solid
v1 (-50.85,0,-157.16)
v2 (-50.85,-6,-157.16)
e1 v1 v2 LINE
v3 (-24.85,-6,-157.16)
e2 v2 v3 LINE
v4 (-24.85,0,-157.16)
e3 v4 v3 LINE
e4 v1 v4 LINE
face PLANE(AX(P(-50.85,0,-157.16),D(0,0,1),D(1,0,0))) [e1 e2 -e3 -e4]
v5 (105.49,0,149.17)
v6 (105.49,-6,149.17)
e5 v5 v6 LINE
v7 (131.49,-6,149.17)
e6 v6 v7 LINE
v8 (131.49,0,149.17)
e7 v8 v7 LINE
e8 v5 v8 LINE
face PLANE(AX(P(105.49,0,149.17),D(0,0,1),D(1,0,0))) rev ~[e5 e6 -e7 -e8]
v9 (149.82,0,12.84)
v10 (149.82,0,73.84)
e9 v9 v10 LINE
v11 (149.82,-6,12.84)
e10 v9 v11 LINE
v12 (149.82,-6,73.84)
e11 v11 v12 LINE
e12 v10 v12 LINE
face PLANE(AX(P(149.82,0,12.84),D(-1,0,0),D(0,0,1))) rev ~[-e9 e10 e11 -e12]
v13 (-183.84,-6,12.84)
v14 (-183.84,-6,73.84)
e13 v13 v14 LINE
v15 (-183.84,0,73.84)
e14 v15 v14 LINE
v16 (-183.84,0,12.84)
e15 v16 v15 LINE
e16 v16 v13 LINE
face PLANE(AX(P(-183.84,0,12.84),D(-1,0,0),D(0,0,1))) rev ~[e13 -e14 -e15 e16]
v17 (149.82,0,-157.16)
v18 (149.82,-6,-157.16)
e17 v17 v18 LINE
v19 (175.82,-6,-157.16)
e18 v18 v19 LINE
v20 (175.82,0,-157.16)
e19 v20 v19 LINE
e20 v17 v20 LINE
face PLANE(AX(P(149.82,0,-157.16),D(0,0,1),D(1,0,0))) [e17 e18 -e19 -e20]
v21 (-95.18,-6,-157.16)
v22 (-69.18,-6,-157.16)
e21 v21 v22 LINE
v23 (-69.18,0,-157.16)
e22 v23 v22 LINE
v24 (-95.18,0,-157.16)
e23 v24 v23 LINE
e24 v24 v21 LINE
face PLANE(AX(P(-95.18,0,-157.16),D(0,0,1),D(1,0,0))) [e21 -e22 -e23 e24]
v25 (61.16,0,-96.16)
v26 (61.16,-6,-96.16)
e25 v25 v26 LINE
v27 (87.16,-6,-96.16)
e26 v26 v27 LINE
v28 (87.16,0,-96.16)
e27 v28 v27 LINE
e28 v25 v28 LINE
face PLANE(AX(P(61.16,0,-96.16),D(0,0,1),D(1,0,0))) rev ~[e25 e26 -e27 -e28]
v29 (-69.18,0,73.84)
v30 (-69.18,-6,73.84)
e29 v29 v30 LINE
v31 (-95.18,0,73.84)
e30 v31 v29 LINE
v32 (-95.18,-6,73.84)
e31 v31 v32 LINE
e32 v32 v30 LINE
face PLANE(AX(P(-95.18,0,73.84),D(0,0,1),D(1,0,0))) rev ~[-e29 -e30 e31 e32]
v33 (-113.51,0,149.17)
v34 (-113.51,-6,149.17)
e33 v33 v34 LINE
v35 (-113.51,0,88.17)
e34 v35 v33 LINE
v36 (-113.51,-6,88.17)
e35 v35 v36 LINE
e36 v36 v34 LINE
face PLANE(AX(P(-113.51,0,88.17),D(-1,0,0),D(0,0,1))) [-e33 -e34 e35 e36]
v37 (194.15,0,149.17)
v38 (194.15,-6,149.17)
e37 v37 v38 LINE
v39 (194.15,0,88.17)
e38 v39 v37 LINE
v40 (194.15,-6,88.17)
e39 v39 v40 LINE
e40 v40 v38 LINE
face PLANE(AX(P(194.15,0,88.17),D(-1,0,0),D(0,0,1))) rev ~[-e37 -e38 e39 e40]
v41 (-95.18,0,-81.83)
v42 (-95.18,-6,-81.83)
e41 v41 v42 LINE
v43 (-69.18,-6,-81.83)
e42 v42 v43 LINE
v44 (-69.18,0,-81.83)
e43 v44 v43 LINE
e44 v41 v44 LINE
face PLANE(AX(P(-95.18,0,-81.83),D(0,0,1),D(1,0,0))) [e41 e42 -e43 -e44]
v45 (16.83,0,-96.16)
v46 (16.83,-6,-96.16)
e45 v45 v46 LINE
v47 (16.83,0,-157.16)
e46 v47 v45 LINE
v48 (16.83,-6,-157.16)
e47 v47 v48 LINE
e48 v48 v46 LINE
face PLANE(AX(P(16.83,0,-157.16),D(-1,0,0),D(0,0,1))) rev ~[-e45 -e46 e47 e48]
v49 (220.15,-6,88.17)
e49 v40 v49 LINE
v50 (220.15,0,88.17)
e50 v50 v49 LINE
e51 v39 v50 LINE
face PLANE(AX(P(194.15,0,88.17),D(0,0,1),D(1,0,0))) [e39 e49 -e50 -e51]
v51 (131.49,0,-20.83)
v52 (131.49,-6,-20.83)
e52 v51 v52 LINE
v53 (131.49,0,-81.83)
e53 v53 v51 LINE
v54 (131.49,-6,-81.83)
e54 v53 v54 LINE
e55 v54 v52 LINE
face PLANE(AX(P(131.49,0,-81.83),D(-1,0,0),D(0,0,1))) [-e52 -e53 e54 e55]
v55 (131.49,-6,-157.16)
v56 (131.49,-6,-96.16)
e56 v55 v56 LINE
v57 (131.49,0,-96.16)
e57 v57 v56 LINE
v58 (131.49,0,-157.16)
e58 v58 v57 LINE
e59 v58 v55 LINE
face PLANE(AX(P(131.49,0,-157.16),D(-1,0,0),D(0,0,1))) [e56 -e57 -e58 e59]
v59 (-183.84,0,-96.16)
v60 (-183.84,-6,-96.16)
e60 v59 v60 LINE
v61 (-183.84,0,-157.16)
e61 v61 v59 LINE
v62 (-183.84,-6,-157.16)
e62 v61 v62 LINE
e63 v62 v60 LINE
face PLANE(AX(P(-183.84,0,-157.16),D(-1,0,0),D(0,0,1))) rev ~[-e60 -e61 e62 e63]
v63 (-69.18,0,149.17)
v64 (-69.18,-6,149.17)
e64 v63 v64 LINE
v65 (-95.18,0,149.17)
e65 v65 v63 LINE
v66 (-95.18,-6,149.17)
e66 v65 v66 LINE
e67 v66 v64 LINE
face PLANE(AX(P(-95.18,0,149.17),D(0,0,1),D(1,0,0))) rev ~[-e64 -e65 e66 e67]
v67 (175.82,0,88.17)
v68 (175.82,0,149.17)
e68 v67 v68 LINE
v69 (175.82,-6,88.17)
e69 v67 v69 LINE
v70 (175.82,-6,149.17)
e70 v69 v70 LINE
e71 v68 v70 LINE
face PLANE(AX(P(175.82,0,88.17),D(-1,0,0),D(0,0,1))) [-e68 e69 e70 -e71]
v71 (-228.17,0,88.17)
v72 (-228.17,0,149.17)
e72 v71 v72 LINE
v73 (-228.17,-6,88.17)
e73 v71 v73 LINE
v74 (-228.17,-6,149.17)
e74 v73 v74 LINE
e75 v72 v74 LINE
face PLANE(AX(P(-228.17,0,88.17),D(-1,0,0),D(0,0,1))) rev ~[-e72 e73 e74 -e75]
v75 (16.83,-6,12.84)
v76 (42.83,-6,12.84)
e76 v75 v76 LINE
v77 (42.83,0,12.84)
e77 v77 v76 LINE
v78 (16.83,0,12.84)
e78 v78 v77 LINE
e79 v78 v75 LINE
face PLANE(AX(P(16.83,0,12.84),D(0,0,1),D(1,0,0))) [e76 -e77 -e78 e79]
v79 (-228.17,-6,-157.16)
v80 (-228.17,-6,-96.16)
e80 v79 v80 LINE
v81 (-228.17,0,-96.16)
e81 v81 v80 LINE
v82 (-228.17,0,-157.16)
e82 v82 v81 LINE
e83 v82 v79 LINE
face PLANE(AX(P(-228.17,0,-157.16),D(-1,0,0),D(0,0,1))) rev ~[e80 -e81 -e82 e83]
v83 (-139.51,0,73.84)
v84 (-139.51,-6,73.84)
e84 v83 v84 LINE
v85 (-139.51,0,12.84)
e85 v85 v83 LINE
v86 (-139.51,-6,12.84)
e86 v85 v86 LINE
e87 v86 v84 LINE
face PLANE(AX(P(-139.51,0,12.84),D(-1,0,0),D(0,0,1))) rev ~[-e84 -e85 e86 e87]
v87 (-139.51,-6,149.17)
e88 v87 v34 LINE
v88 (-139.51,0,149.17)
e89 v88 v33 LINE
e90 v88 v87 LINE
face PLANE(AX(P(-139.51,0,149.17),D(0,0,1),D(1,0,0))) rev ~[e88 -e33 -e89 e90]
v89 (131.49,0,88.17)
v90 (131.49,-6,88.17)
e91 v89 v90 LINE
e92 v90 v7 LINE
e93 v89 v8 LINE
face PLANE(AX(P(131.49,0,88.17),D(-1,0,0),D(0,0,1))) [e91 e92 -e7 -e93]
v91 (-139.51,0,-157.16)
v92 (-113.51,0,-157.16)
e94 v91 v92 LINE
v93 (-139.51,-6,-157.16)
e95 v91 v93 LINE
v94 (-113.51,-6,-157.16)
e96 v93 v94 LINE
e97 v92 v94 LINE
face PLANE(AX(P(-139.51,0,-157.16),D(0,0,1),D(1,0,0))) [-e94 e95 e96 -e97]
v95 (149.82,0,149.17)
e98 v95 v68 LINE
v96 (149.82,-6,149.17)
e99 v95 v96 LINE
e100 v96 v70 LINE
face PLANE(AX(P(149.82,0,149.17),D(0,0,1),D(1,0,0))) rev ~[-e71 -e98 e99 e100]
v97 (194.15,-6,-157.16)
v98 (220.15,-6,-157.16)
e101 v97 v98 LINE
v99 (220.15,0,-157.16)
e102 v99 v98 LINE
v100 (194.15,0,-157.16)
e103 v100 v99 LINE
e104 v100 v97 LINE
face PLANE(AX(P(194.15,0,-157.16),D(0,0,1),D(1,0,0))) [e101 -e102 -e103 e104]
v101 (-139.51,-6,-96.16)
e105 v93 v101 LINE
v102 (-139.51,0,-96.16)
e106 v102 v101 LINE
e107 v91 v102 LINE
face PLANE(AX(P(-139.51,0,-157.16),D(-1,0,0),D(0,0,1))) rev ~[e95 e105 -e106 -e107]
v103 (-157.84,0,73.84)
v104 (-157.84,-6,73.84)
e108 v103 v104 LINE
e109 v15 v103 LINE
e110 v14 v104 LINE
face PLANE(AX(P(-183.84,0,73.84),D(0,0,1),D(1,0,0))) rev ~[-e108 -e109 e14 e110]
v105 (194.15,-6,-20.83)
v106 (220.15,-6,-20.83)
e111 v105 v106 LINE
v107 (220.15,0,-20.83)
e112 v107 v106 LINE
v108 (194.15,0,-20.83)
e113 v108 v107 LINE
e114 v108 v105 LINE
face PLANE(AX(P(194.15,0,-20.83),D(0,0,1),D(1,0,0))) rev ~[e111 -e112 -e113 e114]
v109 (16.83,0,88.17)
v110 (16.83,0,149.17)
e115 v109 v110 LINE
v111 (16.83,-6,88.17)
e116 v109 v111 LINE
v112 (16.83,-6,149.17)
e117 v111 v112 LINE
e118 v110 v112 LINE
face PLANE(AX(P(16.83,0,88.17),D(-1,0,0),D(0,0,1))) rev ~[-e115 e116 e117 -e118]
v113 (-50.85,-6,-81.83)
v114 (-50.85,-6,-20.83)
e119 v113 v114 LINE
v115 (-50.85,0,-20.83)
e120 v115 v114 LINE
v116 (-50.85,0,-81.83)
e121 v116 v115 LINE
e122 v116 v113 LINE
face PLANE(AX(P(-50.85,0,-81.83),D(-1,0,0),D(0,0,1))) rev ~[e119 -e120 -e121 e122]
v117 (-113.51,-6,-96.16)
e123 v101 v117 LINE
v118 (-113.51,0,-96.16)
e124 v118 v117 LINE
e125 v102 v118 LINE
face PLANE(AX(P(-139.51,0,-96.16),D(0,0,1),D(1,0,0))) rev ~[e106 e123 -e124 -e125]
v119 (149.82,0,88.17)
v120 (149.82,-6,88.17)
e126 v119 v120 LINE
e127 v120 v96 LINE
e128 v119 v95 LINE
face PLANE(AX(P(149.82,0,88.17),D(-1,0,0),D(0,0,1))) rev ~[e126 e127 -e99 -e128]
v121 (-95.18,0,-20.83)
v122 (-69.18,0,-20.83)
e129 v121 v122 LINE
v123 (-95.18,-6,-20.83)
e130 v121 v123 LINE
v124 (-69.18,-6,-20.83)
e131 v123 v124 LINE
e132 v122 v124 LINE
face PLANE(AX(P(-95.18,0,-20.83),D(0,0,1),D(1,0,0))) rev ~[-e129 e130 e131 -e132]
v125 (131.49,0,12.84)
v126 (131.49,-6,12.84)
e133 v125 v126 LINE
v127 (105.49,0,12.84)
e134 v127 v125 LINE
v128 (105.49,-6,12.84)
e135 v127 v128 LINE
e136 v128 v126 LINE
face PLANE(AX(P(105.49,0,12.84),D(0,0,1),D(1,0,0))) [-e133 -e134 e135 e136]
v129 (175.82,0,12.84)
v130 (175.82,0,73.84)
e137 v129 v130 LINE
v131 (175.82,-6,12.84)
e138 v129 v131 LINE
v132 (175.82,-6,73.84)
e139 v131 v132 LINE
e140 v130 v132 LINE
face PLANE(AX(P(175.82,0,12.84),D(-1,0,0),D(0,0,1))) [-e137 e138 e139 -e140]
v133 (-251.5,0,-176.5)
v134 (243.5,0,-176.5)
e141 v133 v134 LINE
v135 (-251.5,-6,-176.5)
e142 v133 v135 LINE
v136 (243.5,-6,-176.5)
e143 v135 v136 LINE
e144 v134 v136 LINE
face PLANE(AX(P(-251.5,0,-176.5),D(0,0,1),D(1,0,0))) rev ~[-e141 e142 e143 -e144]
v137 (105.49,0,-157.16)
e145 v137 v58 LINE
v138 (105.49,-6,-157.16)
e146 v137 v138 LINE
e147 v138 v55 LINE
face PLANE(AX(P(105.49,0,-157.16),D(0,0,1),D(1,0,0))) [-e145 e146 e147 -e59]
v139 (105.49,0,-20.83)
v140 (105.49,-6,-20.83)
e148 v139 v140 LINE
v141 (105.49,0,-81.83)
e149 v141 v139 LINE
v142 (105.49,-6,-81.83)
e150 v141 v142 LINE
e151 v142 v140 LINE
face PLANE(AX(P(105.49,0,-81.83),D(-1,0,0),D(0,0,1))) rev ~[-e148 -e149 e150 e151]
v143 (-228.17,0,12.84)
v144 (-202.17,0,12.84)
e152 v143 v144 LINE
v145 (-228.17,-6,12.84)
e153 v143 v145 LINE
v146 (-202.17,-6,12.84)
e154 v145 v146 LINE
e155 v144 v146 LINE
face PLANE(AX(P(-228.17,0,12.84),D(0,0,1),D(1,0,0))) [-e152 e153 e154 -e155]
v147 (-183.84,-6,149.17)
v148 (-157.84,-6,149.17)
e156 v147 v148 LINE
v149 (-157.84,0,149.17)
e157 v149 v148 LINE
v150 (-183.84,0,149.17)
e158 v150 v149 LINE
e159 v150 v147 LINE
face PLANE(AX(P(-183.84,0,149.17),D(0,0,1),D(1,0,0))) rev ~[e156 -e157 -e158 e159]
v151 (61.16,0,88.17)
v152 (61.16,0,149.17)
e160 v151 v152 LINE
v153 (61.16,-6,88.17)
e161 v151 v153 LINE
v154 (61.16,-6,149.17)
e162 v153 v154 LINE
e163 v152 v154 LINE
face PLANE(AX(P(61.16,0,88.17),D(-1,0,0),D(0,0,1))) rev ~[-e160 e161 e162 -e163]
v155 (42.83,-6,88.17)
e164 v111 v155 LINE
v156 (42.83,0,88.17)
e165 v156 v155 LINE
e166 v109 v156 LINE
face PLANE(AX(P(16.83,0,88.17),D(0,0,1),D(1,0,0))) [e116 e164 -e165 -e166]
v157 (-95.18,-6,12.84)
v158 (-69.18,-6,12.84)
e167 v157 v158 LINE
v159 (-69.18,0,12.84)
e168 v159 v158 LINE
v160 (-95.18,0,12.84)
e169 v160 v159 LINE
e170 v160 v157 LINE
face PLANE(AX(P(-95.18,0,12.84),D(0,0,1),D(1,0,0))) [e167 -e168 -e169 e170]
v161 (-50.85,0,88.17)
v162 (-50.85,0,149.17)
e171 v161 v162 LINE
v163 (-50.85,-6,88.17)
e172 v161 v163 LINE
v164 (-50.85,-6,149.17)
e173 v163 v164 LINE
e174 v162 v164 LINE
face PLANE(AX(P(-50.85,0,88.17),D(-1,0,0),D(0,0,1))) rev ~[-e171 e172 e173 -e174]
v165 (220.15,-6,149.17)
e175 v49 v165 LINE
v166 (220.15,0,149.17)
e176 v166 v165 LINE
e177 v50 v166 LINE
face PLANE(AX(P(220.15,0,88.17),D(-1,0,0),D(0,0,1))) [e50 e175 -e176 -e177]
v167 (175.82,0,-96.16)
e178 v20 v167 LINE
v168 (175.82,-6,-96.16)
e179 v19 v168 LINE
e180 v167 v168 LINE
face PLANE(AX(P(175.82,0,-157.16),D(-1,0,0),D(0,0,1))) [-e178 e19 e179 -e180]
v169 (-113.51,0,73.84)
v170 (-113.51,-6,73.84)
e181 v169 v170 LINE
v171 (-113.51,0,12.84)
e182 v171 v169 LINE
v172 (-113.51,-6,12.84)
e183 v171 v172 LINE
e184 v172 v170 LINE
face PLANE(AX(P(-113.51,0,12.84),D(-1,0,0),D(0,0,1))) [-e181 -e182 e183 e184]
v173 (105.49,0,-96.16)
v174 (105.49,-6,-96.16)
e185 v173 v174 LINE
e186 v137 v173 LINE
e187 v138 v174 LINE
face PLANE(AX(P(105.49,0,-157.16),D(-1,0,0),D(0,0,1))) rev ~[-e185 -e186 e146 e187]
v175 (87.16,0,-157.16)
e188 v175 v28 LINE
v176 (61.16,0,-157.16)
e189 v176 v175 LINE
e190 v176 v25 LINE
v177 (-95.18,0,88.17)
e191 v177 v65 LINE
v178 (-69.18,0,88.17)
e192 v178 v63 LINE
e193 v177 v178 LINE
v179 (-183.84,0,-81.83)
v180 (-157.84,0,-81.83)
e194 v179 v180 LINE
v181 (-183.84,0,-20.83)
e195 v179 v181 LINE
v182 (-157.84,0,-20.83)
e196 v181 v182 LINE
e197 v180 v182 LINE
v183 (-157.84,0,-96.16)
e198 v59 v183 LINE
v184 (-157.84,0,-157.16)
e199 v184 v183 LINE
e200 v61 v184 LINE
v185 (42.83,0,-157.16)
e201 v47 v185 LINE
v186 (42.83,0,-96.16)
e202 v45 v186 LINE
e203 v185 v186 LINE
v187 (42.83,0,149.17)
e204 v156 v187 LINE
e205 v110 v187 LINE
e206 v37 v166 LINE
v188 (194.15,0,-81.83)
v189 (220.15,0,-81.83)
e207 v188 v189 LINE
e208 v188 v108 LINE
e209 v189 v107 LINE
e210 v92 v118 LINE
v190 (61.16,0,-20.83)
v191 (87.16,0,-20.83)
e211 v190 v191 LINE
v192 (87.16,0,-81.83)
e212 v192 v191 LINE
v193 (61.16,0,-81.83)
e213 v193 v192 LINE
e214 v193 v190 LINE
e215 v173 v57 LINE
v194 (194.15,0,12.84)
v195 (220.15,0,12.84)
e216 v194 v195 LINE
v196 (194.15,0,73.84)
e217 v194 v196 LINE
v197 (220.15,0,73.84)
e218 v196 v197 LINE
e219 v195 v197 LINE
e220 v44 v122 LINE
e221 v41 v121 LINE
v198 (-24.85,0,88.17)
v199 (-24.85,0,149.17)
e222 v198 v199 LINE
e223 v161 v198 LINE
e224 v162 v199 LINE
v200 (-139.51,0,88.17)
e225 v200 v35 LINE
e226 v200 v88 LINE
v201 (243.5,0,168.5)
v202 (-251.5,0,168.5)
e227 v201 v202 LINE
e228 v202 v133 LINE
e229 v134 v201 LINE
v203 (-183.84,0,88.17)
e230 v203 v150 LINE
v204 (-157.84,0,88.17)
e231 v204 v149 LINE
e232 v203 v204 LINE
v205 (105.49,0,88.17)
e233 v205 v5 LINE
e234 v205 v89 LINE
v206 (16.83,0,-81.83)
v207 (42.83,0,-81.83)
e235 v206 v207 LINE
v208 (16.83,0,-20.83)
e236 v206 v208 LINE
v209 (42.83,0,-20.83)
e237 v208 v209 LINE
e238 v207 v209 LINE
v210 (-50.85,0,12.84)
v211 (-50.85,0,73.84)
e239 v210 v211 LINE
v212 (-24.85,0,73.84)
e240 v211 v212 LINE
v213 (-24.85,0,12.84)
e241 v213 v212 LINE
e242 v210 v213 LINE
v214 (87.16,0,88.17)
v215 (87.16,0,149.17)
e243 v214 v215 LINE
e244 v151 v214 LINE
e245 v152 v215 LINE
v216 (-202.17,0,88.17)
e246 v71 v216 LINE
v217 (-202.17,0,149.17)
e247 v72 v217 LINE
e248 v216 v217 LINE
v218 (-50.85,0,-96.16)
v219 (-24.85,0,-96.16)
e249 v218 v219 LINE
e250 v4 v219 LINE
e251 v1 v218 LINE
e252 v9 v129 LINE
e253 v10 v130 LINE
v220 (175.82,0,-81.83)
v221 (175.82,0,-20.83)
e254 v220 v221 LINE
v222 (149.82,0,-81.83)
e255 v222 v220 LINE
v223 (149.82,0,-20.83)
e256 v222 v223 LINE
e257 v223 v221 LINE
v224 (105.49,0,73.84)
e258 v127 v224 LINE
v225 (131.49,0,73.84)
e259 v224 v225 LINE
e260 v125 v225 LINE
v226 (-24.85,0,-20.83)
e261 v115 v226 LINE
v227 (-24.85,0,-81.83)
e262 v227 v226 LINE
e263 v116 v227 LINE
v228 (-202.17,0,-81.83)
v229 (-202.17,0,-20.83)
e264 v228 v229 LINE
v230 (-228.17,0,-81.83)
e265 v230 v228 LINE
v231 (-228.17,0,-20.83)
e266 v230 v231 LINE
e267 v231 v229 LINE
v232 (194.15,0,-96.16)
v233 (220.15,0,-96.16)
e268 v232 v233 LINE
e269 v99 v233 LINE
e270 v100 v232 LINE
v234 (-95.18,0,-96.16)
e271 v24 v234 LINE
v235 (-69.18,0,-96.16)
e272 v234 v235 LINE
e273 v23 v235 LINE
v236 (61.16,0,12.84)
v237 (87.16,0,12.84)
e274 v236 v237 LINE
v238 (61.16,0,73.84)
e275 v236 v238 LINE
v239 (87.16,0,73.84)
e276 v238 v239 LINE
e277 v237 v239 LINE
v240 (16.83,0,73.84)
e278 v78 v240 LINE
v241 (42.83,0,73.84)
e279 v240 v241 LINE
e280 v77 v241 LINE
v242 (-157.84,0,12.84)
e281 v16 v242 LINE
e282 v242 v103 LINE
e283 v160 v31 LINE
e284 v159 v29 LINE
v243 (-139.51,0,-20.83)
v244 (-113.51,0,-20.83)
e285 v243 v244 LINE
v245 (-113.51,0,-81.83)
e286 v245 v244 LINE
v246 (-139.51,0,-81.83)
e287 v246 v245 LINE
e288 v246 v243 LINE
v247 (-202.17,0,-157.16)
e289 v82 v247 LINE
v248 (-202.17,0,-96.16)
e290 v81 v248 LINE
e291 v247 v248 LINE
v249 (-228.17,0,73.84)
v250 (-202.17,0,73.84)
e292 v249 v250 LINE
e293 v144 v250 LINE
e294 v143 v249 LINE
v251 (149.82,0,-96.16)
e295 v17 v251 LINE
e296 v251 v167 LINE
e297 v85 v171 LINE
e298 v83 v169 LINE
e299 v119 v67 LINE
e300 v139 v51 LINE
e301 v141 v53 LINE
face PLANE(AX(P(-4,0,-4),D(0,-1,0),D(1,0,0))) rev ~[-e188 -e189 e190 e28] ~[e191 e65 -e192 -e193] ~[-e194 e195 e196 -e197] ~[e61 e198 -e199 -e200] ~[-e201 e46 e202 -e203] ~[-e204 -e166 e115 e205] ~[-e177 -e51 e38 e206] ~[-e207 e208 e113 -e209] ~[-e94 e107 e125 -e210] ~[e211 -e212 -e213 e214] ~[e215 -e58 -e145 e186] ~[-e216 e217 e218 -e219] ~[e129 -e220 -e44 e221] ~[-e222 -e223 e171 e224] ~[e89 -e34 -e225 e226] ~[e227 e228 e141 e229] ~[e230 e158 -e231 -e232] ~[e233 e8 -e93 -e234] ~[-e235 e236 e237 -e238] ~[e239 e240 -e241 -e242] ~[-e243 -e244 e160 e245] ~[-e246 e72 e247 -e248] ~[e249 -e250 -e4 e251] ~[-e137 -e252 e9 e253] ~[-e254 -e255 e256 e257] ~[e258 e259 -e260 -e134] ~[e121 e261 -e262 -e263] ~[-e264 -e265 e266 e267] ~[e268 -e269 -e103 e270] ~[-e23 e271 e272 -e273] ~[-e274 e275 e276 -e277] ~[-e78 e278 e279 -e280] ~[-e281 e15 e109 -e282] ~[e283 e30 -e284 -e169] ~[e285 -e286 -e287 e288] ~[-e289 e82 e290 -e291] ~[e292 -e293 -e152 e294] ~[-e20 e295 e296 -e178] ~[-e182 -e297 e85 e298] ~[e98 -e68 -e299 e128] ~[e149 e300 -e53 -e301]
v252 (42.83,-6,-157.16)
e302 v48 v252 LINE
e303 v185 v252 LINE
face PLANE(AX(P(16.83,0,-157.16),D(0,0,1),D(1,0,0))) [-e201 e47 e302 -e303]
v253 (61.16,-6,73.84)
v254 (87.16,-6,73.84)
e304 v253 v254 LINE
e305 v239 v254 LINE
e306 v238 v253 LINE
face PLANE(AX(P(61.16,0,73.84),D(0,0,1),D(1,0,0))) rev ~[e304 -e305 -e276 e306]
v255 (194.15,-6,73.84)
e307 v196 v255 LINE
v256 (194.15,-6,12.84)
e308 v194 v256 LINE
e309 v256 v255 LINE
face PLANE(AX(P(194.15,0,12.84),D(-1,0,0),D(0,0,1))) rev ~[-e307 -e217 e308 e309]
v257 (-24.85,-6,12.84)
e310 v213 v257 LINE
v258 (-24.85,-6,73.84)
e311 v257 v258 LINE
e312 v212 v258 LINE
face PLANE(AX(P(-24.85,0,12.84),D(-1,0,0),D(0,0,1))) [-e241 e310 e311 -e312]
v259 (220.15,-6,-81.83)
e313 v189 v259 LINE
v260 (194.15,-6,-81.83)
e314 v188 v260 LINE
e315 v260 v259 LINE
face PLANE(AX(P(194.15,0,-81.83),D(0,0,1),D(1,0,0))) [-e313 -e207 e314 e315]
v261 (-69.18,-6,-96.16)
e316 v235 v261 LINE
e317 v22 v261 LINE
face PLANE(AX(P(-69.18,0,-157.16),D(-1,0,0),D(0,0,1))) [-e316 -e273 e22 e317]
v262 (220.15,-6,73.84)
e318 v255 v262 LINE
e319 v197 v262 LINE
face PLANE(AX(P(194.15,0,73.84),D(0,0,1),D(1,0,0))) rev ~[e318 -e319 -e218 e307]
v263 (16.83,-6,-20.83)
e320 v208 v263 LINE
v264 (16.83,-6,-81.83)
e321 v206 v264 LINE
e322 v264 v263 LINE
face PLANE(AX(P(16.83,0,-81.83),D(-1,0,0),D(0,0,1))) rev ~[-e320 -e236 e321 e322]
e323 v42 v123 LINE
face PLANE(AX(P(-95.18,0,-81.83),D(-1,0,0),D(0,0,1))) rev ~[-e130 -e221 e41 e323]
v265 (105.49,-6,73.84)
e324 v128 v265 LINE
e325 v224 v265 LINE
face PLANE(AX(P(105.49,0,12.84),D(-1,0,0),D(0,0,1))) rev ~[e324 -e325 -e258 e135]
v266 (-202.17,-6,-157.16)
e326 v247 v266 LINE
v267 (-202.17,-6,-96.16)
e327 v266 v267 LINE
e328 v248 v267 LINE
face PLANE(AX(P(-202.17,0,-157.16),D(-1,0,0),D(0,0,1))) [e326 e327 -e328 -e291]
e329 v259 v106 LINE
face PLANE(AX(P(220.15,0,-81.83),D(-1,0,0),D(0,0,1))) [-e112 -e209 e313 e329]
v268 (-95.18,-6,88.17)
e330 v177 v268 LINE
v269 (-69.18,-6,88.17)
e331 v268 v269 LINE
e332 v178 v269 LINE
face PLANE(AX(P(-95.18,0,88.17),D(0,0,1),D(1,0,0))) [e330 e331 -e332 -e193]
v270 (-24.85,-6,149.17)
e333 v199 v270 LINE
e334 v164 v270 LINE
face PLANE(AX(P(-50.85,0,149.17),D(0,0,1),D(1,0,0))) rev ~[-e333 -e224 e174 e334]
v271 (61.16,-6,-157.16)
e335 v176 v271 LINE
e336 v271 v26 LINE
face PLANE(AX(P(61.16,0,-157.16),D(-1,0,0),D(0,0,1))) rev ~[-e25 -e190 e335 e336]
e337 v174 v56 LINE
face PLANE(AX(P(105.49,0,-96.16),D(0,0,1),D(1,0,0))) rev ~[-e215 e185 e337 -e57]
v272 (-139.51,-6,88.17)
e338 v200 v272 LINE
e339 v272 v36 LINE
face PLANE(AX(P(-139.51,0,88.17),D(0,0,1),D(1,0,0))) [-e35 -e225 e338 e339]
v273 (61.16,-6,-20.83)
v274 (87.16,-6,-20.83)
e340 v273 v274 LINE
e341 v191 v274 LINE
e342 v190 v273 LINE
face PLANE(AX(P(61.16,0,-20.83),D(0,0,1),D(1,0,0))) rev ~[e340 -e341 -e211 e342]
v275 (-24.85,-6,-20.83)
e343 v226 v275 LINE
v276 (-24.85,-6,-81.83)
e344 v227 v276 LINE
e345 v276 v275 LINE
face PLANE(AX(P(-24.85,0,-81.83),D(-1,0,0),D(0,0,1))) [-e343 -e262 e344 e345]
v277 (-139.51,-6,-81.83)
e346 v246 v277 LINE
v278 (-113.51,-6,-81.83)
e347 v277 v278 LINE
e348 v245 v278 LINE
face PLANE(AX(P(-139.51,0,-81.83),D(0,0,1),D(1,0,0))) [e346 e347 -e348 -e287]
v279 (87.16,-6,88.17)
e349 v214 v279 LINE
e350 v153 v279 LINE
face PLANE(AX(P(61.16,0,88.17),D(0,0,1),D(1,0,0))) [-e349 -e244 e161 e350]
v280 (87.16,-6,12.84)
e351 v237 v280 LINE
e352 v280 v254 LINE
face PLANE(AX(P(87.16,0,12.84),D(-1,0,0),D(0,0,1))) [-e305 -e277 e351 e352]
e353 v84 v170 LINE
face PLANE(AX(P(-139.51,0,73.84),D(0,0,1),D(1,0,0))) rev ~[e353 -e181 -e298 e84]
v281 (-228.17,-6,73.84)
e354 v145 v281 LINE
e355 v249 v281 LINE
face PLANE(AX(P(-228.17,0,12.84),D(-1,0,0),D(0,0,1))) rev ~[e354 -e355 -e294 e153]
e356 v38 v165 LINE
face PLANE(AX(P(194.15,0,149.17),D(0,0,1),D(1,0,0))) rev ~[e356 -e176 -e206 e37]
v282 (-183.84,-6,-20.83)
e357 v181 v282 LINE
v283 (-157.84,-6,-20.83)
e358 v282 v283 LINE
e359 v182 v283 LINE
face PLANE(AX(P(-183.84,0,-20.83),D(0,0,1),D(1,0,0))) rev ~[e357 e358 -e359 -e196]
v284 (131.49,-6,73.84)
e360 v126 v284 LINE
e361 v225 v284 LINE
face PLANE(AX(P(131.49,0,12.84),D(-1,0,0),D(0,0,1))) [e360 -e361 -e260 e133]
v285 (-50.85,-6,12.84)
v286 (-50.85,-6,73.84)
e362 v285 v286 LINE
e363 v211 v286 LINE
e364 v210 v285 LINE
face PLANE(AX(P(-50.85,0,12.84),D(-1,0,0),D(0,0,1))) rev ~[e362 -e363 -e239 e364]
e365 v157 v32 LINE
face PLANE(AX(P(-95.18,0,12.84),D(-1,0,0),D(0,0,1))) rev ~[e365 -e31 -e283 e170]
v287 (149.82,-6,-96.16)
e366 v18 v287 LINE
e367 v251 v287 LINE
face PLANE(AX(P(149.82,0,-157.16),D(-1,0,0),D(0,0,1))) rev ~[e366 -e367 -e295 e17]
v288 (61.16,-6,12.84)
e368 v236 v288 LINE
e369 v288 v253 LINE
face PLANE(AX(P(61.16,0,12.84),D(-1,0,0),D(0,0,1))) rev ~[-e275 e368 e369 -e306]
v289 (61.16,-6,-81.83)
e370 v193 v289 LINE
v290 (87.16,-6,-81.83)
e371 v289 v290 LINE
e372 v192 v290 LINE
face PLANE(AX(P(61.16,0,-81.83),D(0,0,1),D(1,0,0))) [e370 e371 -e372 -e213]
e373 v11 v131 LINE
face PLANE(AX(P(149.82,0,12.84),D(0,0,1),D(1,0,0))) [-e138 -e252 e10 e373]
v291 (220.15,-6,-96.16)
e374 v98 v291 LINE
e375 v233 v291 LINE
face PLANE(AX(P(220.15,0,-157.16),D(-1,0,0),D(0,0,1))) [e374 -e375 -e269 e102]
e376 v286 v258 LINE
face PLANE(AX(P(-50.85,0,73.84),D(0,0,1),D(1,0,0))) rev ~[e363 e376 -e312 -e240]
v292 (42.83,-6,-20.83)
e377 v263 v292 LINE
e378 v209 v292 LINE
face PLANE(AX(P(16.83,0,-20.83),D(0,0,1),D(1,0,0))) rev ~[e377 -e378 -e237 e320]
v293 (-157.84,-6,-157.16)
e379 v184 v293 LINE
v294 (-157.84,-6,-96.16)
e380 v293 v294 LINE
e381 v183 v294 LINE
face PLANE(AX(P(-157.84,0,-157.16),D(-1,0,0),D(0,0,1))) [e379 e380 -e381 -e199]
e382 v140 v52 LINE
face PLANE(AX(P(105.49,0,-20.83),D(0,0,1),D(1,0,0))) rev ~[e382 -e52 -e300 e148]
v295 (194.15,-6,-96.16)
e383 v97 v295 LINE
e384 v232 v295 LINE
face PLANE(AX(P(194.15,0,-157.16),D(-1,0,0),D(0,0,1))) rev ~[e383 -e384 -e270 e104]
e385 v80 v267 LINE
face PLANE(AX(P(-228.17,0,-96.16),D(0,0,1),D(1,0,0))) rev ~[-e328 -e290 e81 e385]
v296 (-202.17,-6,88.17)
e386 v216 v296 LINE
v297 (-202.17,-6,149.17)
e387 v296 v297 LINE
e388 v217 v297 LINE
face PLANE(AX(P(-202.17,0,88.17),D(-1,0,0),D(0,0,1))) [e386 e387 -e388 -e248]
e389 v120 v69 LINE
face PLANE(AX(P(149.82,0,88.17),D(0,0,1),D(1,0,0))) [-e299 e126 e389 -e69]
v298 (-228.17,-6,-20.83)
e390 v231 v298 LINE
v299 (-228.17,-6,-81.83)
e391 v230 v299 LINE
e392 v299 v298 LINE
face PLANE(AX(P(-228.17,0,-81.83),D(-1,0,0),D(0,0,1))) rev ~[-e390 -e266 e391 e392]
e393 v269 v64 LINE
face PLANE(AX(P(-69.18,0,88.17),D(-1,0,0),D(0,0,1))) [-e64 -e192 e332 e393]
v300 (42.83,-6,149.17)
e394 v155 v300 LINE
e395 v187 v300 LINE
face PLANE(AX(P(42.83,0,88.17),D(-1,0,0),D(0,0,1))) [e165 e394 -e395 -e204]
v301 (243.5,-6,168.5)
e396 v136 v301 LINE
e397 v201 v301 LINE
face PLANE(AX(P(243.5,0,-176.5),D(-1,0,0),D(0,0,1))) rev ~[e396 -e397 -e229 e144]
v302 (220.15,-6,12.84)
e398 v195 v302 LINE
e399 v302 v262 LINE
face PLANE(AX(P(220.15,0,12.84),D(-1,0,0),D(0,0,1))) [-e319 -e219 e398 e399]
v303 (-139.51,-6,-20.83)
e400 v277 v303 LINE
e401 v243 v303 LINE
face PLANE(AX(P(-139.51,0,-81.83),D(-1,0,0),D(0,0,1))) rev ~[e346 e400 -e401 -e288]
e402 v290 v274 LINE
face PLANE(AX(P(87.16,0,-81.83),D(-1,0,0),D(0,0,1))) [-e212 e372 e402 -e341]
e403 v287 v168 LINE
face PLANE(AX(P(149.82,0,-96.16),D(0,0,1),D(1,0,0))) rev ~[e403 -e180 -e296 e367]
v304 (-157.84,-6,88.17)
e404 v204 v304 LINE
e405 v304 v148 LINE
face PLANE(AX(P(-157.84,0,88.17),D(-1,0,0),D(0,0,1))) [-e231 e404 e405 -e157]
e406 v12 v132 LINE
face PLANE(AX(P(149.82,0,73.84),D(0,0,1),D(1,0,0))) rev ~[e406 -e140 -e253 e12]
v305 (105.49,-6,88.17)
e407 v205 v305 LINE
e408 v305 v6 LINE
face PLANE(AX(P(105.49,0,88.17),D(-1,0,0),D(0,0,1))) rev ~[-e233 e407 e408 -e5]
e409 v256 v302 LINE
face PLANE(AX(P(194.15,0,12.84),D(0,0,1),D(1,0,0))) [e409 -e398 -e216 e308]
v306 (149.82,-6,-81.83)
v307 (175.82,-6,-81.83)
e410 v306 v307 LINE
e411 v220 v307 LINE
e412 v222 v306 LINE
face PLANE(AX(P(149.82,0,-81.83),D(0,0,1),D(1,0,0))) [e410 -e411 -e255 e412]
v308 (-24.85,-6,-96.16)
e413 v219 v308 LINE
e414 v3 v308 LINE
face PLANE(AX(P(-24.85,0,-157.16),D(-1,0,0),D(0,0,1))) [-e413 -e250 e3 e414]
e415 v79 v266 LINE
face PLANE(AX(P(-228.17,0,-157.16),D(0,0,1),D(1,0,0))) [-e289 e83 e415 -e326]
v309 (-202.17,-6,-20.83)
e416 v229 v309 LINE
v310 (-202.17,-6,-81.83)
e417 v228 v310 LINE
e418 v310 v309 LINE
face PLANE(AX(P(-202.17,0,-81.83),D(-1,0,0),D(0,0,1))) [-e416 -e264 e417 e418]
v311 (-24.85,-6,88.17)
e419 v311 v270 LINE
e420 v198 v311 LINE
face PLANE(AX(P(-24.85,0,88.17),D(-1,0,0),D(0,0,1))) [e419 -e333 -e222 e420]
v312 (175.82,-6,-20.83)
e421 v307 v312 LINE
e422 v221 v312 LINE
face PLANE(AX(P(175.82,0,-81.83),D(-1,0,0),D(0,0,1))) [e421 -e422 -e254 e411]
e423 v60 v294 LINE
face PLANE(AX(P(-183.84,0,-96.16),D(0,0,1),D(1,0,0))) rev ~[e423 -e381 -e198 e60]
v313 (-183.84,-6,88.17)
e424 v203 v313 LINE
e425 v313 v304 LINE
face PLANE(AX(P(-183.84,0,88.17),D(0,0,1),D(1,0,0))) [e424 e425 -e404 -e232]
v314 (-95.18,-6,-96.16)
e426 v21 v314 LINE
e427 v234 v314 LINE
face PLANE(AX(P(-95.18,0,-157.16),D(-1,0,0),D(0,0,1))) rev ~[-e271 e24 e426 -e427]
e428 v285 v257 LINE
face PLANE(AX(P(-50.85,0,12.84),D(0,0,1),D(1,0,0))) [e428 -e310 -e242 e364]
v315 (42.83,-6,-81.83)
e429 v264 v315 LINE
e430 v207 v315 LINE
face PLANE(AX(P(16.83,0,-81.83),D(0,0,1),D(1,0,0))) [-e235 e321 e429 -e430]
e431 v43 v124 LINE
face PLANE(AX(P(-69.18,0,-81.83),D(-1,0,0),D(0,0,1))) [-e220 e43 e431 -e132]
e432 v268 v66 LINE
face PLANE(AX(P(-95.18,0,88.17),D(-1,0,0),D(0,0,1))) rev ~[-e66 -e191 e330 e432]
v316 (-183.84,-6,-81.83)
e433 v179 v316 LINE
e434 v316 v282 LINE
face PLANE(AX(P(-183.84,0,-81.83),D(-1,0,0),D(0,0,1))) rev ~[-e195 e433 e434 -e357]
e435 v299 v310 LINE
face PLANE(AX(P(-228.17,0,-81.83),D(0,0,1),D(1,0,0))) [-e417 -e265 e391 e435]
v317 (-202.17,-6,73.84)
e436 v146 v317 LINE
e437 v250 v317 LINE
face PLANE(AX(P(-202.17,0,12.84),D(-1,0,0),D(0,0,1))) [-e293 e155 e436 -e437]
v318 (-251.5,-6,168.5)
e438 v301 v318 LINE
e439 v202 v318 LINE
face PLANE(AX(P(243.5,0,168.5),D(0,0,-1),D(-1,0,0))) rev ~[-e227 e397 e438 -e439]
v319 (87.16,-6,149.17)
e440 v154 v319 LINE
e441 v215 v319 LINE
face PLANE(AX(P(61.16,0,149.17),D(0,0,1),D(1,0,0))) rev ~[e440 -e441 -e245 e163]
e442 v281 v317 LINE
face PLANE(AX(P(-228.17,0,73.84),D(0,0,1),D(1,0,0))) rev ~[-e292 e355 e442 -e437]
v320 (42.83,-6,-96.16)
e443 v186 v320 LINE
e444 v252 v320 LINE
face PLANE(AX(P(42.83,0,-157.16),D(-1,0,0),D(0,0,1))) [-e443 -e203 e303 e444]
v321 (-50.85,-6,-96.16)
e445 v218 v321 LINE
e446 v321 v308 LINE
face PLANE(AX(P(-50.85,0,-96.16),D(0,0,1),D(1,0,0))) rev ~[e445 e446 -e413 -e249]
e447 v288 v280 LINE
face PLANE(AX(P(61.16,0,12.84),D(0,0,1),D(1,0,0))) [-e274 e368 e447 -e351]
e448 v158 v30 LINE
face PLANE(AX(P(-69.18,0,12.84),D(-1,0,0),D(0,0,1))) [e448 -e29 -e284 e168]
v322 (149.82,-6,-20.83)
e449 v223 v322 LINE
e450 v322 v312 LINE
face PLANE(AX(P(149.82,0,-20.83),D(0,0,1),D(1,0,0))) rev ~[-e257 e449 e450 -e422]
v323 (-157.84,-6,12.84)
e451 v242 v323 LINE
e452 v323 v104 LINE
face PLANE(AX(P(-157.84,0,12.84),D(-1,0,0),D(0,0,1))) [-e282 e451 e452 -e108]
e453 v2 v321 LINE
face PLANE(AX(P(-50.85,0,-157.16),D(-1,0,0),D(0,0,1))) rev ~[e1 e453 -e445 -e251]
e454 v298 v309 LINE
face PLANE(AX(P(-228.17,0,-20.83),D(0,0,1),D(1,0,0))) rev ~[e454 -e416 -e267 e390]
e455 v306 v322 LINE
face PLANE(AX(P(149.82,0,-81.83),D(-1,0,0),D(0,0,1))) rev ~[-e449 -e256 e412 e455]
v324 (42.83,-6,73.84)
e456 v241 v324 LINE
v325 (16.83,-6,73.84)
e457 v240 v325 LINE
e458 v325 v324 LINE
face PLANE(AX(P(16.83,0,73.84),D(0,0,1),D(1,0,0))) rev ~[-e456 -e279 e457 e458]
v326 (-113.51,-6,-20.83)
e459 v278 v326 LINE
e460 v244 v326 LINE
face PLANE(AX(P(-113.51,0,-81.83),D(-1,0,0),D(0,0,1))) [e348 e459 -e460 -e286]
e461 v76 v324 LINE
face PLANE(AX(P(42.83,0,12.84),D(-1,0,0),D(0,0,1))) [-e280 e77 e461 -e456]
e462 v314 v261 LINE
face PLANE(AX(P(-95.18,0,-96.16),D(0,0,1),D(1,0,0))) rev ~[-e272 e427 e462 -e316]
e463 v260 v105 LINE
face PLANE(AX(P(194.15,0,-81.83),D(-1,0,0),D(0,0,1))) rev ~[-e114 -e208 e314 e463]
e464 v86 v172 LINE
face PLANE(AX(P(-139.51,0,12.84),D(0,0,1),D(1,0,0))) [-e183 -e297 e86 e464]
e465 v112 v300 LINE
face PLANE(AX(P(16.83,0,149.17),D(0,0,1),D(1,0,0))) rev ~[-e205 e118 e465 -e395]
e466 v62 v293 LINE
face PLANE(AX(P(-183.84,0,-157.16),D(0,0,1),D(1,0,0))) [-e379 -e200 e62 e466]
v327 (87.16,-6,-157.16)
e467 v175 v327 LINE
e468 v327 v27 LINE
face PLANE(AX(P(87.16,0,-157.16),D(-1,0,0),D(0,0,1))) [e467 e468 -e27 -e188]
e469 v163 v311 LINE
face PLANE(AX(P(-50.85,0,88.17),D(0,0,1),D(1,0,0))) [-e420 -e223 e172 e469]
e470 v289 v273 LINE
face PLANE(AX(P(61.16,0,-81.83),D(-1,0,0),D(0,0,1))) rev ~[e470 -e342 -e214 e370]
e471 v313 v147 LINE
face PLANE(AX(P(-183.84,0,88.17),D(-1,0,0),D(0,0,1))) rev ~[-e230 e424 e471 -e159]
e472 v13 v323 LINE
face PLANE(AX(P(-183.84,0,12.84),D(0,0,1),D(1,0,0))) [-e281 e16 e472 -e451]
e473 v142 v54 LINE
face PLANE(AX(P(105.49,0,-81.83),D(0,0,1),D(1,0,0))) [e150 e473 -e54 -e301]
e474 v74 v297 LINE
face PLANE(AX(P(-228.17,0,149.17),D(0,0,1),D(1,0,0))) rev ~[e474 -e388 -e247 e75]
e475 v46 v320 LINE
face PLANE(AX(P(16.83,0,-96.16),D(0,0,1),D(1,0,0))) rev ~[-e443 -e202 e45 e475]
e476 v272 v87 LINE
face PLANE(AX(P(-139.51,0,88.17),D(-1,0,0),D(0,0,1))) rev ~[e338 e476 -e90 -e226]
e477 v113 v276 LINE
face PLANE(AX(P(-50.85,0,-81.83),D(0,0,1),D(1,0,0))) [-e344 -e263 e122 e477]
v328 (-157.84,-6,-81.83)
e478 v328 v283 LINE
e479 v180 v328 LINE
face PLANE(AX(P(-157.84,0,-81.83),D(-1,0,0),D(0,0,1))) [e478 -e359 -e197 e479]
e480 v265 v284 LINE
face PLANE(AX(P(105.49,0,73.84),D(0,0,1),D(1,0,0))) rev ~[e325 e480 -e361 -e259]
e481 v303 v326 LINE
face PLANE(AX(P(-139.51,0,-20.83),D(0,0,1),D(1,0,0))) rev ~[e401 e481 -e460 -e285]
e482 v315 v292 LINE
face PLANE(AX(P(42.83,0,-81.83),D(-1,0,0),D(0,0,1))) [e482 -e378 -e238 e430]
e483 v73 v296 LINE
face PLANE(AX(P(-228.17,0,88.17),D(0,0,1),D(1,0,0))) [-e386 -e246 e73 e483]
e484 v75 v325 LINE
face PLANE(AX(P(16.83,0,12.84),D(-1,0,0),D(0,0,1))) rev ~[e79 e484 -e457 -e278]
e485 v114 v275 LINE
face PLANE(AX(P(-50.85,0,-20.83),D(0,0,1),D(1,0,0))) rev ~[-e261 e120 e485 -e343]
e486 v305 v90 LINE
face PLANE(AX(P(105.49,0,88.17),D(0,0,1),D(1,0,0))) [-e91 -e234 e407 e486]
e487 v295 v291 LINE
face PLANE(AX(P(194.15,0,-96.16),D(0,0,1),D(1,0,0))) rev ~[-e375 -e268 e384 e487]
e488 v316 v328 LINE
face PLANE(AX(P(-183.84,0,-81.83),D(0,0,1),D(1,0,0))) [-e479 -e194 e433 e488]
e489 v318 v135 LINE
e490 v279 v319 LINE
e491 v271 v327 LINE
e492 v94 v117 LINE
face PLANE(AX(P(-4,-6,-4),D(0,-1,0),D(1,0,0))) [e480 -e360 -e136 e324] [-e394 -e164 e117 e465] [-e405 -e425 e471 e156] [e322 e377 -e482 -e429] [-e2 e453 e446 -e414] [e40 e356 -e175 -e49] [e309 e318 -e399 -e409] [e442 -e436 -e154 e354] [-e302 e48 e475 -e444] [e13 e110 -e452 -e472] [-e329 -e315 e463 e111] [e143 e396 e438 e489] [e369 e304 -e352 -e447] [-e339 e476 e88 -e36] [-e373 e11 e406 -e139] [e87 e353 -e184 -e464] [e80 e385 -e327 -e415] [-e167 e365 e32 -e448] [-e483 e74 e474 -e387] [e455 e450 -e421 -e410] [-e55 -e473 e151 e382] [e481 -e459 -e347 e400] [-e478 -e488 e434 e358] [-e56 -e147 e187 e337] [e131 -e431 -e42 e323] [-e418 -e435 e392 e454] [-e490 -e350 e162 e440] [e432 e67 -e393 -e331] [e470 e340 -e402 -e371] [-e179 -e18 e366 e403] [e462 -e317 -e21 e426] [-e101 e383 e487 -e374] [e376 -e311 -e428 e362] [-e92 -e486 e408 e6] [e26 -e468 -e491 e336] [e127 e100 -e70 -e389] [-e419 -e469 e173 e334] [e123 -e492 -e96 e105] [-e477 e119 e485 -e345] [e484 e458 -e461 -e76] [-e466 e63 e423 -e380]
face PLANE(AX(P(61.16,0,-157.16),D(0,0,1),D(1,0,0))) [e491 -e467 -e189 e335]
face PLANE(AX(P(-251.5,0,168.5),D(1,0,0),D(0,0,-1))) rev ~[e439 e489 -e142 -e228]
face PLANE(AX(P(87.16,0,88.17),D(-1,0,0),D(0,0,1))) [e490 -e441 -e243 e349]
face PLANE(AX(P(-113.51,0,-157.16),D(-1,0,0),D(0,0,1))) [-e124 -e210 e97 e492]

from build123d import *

# Parameters (mm, degrees)
F0_W     = 26
F0_H     = 61
F1_DEPTH = 6


with BuildPart() as f1:
    # F0 (on Front) → F1 (new body)
    with BuildSketch(Plane.XZ):
        Polygon((-231.5, -176.5), (223.5, -176.5), (243.5, -176.5), (243.5, -156.5), (243.5, 148.5), (243.5, 168.5), (227.5, 168.5), (-227.5, 168.5), (-251.5, 168.5), (-251.5, 152.5), (-251.5, -152.5), (-251.5, -176.5), align=None)
        with Locations((-215.17, -126.66)):
            Rectangle(F0_W, F0_H, mode=Mode.SUBTRACT)
        with Locations((-170.84, -126.66)):
            Rectangle(F0_W, F0_H, mode=Mode.SUBTRACT)
        with Locations((-126.51, -126.66)):
            Rectangle(F0_W, F0_H, mode=Mode.SUBTRACT)
        with Locations((-82.18, -126.66)):
            Rectangle(F0_W, F0_H, mode=Mode.SUBTRACT)
        with Locations((-37.85, -126.66)):
            Rectangle(F0_W, F0_H, mode=Mode.SUBTRACT)
        with Locations((-215.17, -51.33)):
            Rectangle(F0_W, F0_H, mode=Mode.SUBTRACT)
        with Locations((-170.84, -51.33)):
            Rectangle(F0_W, F0_H, mode=Mode.SUBTRACT)
        with Locations((-126.51, -51.33)):
            Rectangle(F0_W, F0_H, mode=Mode.SUBTRACT)
        with Locations((-82.18, -51.33)):
            Rectangle(F0_W, F0_H, mode=Mode.SUBTRACT)
        with Locations((-37.85, -51.33)):
            Rectangle(F0_W, F0_H, mode=Mode.SUBTRACT)
        with Locations((29.83, -126.66)):
            Rectangle(F0_W, F0_H, mode=Mode.SUBTRACT)
        with Locations((74.16, -126.66)):
            Rectangle(F0_W, F0_H, mode=Mode.SUBTRACT)
        with Locations((118.49, -126.66)):
            Rectangle(F0_W, F0_H, mode=Mode.SUBTRACT)
        with Locations((162.82, -126.66)):
            Rectangle(F0_W, F0_H, mode=Mode.SUBTRACT)
        with Locations((207.15, -126.66)):
            Rectangle(F0_W, F0_H, mode=Mode.SUBTRACT)
        with Locations((29.83, -51.33)):
            Rectangle(F0_W, F0_H, mode=Mode.SUBTRACT)
        with Locations((74.16, -51.33)):
            Rectangle(F0_W, F0_H, mode=Mode.SUBTRACT)
        with Locations((118.49, -51.33)):
            Rectangle(F0_W, F0_H, mode=Mode.SUBTRACT)
        with Locations((162.82, -51.33)):
            Rectangle(F0_W, F0_H, mode=Mode.SUBTRACT)
        with Locations((207.15, -51.33)):
            Rectangle(F0_W, F0_H, mode=Mode.SUBTRACT)
        with Locations((-215.17, 43.34)):
            Rectangle(F0_W, F0_H, mode=Mode.SUBTRACT)
        with Locations((-170.84, 43.34)):
            Rectangle(F0_W, F0_H, mode=Mode.SUBTRACT)
        with Locations((-126.51, 43.34)):
            Rectangle(F0_W, F0_H, mode=Mode.SUBTRACT)
        with Locations((-82.18, 43.34)):
            Rectangle(F0_W, F0_H, mode=Mode.SUBTRACT)
        with Locations((-37.85, 43.34)):
            Rectangle(F0_W, F0_H, mode=Mode.SUBTRACT)
        with Locations((-215.17, 118.67)):
            Rectangle(F0_W, F0_H, mode=Mode.SUBTRACT)
        with Locations((-170.84, 118.67)):
            Rectangle(F0_W, F0_H, mode=Mode.SUBTRACT)
        with Locations((-126.51, 118.67)):
            Rectangle(F0_W, F0_H, mode=Mode.SUBTRACT)
        with Locations((-82.18, 118.67)):
            Rectangle(F0_W, F0_H, mode=Mode.SUBTRACT)
        with Locations((-37.85, 118.67)):
            Rectangle(F0_W, F0_H, mode=Mode.SUBTRACT)
        with Locations((29.83, 43.34)):
            Rectangle(F0_W, F0_H, mode=Mode.SUBTRACT)
        with Locations((74.16, 43.34)):
            Rectangle(F0_W, F0_H, mode=Mode.SUBTRACT)
        with Locations((118.49, 43.34)):
            Rectangle(F0_W, F0_H, mode=Mode.SUBTRACT)
        with Locations((162.82, 43.34)):
            Rectangle(F0_W, F0_H, mode=Mode.SUBTRACT)
        with Locations((207.15, 43.34)):
            Rectangle(F0_W, F0_H, mode=Mode.SUBTRACT)
        with Locations((29.83, 118.67)):
            Rectangle(F0_W, F0_H, mode=Mode.SUBTRACT)
        with Locations((74.16, 118.67)):
            Rectangle(F0_W, F0_H, mode=Mode.SUBTRACT)
        with Locations((118.49, 118.67)):
            Rectangle(F0_W, F0_H, mode=Mode.SUBTRACT)
        with Locations((162.82, 118.67)):
            Rectangle(F0_W, F0_H, mode=Mode.SUBTRACT)
        with Locations((207.15, 118.67)):
            Rectangle(F0_W, F0_H, mode=Mode.SUBTRACT)
    extrude(amount=F1_DEPTH)


solid = f1.part
